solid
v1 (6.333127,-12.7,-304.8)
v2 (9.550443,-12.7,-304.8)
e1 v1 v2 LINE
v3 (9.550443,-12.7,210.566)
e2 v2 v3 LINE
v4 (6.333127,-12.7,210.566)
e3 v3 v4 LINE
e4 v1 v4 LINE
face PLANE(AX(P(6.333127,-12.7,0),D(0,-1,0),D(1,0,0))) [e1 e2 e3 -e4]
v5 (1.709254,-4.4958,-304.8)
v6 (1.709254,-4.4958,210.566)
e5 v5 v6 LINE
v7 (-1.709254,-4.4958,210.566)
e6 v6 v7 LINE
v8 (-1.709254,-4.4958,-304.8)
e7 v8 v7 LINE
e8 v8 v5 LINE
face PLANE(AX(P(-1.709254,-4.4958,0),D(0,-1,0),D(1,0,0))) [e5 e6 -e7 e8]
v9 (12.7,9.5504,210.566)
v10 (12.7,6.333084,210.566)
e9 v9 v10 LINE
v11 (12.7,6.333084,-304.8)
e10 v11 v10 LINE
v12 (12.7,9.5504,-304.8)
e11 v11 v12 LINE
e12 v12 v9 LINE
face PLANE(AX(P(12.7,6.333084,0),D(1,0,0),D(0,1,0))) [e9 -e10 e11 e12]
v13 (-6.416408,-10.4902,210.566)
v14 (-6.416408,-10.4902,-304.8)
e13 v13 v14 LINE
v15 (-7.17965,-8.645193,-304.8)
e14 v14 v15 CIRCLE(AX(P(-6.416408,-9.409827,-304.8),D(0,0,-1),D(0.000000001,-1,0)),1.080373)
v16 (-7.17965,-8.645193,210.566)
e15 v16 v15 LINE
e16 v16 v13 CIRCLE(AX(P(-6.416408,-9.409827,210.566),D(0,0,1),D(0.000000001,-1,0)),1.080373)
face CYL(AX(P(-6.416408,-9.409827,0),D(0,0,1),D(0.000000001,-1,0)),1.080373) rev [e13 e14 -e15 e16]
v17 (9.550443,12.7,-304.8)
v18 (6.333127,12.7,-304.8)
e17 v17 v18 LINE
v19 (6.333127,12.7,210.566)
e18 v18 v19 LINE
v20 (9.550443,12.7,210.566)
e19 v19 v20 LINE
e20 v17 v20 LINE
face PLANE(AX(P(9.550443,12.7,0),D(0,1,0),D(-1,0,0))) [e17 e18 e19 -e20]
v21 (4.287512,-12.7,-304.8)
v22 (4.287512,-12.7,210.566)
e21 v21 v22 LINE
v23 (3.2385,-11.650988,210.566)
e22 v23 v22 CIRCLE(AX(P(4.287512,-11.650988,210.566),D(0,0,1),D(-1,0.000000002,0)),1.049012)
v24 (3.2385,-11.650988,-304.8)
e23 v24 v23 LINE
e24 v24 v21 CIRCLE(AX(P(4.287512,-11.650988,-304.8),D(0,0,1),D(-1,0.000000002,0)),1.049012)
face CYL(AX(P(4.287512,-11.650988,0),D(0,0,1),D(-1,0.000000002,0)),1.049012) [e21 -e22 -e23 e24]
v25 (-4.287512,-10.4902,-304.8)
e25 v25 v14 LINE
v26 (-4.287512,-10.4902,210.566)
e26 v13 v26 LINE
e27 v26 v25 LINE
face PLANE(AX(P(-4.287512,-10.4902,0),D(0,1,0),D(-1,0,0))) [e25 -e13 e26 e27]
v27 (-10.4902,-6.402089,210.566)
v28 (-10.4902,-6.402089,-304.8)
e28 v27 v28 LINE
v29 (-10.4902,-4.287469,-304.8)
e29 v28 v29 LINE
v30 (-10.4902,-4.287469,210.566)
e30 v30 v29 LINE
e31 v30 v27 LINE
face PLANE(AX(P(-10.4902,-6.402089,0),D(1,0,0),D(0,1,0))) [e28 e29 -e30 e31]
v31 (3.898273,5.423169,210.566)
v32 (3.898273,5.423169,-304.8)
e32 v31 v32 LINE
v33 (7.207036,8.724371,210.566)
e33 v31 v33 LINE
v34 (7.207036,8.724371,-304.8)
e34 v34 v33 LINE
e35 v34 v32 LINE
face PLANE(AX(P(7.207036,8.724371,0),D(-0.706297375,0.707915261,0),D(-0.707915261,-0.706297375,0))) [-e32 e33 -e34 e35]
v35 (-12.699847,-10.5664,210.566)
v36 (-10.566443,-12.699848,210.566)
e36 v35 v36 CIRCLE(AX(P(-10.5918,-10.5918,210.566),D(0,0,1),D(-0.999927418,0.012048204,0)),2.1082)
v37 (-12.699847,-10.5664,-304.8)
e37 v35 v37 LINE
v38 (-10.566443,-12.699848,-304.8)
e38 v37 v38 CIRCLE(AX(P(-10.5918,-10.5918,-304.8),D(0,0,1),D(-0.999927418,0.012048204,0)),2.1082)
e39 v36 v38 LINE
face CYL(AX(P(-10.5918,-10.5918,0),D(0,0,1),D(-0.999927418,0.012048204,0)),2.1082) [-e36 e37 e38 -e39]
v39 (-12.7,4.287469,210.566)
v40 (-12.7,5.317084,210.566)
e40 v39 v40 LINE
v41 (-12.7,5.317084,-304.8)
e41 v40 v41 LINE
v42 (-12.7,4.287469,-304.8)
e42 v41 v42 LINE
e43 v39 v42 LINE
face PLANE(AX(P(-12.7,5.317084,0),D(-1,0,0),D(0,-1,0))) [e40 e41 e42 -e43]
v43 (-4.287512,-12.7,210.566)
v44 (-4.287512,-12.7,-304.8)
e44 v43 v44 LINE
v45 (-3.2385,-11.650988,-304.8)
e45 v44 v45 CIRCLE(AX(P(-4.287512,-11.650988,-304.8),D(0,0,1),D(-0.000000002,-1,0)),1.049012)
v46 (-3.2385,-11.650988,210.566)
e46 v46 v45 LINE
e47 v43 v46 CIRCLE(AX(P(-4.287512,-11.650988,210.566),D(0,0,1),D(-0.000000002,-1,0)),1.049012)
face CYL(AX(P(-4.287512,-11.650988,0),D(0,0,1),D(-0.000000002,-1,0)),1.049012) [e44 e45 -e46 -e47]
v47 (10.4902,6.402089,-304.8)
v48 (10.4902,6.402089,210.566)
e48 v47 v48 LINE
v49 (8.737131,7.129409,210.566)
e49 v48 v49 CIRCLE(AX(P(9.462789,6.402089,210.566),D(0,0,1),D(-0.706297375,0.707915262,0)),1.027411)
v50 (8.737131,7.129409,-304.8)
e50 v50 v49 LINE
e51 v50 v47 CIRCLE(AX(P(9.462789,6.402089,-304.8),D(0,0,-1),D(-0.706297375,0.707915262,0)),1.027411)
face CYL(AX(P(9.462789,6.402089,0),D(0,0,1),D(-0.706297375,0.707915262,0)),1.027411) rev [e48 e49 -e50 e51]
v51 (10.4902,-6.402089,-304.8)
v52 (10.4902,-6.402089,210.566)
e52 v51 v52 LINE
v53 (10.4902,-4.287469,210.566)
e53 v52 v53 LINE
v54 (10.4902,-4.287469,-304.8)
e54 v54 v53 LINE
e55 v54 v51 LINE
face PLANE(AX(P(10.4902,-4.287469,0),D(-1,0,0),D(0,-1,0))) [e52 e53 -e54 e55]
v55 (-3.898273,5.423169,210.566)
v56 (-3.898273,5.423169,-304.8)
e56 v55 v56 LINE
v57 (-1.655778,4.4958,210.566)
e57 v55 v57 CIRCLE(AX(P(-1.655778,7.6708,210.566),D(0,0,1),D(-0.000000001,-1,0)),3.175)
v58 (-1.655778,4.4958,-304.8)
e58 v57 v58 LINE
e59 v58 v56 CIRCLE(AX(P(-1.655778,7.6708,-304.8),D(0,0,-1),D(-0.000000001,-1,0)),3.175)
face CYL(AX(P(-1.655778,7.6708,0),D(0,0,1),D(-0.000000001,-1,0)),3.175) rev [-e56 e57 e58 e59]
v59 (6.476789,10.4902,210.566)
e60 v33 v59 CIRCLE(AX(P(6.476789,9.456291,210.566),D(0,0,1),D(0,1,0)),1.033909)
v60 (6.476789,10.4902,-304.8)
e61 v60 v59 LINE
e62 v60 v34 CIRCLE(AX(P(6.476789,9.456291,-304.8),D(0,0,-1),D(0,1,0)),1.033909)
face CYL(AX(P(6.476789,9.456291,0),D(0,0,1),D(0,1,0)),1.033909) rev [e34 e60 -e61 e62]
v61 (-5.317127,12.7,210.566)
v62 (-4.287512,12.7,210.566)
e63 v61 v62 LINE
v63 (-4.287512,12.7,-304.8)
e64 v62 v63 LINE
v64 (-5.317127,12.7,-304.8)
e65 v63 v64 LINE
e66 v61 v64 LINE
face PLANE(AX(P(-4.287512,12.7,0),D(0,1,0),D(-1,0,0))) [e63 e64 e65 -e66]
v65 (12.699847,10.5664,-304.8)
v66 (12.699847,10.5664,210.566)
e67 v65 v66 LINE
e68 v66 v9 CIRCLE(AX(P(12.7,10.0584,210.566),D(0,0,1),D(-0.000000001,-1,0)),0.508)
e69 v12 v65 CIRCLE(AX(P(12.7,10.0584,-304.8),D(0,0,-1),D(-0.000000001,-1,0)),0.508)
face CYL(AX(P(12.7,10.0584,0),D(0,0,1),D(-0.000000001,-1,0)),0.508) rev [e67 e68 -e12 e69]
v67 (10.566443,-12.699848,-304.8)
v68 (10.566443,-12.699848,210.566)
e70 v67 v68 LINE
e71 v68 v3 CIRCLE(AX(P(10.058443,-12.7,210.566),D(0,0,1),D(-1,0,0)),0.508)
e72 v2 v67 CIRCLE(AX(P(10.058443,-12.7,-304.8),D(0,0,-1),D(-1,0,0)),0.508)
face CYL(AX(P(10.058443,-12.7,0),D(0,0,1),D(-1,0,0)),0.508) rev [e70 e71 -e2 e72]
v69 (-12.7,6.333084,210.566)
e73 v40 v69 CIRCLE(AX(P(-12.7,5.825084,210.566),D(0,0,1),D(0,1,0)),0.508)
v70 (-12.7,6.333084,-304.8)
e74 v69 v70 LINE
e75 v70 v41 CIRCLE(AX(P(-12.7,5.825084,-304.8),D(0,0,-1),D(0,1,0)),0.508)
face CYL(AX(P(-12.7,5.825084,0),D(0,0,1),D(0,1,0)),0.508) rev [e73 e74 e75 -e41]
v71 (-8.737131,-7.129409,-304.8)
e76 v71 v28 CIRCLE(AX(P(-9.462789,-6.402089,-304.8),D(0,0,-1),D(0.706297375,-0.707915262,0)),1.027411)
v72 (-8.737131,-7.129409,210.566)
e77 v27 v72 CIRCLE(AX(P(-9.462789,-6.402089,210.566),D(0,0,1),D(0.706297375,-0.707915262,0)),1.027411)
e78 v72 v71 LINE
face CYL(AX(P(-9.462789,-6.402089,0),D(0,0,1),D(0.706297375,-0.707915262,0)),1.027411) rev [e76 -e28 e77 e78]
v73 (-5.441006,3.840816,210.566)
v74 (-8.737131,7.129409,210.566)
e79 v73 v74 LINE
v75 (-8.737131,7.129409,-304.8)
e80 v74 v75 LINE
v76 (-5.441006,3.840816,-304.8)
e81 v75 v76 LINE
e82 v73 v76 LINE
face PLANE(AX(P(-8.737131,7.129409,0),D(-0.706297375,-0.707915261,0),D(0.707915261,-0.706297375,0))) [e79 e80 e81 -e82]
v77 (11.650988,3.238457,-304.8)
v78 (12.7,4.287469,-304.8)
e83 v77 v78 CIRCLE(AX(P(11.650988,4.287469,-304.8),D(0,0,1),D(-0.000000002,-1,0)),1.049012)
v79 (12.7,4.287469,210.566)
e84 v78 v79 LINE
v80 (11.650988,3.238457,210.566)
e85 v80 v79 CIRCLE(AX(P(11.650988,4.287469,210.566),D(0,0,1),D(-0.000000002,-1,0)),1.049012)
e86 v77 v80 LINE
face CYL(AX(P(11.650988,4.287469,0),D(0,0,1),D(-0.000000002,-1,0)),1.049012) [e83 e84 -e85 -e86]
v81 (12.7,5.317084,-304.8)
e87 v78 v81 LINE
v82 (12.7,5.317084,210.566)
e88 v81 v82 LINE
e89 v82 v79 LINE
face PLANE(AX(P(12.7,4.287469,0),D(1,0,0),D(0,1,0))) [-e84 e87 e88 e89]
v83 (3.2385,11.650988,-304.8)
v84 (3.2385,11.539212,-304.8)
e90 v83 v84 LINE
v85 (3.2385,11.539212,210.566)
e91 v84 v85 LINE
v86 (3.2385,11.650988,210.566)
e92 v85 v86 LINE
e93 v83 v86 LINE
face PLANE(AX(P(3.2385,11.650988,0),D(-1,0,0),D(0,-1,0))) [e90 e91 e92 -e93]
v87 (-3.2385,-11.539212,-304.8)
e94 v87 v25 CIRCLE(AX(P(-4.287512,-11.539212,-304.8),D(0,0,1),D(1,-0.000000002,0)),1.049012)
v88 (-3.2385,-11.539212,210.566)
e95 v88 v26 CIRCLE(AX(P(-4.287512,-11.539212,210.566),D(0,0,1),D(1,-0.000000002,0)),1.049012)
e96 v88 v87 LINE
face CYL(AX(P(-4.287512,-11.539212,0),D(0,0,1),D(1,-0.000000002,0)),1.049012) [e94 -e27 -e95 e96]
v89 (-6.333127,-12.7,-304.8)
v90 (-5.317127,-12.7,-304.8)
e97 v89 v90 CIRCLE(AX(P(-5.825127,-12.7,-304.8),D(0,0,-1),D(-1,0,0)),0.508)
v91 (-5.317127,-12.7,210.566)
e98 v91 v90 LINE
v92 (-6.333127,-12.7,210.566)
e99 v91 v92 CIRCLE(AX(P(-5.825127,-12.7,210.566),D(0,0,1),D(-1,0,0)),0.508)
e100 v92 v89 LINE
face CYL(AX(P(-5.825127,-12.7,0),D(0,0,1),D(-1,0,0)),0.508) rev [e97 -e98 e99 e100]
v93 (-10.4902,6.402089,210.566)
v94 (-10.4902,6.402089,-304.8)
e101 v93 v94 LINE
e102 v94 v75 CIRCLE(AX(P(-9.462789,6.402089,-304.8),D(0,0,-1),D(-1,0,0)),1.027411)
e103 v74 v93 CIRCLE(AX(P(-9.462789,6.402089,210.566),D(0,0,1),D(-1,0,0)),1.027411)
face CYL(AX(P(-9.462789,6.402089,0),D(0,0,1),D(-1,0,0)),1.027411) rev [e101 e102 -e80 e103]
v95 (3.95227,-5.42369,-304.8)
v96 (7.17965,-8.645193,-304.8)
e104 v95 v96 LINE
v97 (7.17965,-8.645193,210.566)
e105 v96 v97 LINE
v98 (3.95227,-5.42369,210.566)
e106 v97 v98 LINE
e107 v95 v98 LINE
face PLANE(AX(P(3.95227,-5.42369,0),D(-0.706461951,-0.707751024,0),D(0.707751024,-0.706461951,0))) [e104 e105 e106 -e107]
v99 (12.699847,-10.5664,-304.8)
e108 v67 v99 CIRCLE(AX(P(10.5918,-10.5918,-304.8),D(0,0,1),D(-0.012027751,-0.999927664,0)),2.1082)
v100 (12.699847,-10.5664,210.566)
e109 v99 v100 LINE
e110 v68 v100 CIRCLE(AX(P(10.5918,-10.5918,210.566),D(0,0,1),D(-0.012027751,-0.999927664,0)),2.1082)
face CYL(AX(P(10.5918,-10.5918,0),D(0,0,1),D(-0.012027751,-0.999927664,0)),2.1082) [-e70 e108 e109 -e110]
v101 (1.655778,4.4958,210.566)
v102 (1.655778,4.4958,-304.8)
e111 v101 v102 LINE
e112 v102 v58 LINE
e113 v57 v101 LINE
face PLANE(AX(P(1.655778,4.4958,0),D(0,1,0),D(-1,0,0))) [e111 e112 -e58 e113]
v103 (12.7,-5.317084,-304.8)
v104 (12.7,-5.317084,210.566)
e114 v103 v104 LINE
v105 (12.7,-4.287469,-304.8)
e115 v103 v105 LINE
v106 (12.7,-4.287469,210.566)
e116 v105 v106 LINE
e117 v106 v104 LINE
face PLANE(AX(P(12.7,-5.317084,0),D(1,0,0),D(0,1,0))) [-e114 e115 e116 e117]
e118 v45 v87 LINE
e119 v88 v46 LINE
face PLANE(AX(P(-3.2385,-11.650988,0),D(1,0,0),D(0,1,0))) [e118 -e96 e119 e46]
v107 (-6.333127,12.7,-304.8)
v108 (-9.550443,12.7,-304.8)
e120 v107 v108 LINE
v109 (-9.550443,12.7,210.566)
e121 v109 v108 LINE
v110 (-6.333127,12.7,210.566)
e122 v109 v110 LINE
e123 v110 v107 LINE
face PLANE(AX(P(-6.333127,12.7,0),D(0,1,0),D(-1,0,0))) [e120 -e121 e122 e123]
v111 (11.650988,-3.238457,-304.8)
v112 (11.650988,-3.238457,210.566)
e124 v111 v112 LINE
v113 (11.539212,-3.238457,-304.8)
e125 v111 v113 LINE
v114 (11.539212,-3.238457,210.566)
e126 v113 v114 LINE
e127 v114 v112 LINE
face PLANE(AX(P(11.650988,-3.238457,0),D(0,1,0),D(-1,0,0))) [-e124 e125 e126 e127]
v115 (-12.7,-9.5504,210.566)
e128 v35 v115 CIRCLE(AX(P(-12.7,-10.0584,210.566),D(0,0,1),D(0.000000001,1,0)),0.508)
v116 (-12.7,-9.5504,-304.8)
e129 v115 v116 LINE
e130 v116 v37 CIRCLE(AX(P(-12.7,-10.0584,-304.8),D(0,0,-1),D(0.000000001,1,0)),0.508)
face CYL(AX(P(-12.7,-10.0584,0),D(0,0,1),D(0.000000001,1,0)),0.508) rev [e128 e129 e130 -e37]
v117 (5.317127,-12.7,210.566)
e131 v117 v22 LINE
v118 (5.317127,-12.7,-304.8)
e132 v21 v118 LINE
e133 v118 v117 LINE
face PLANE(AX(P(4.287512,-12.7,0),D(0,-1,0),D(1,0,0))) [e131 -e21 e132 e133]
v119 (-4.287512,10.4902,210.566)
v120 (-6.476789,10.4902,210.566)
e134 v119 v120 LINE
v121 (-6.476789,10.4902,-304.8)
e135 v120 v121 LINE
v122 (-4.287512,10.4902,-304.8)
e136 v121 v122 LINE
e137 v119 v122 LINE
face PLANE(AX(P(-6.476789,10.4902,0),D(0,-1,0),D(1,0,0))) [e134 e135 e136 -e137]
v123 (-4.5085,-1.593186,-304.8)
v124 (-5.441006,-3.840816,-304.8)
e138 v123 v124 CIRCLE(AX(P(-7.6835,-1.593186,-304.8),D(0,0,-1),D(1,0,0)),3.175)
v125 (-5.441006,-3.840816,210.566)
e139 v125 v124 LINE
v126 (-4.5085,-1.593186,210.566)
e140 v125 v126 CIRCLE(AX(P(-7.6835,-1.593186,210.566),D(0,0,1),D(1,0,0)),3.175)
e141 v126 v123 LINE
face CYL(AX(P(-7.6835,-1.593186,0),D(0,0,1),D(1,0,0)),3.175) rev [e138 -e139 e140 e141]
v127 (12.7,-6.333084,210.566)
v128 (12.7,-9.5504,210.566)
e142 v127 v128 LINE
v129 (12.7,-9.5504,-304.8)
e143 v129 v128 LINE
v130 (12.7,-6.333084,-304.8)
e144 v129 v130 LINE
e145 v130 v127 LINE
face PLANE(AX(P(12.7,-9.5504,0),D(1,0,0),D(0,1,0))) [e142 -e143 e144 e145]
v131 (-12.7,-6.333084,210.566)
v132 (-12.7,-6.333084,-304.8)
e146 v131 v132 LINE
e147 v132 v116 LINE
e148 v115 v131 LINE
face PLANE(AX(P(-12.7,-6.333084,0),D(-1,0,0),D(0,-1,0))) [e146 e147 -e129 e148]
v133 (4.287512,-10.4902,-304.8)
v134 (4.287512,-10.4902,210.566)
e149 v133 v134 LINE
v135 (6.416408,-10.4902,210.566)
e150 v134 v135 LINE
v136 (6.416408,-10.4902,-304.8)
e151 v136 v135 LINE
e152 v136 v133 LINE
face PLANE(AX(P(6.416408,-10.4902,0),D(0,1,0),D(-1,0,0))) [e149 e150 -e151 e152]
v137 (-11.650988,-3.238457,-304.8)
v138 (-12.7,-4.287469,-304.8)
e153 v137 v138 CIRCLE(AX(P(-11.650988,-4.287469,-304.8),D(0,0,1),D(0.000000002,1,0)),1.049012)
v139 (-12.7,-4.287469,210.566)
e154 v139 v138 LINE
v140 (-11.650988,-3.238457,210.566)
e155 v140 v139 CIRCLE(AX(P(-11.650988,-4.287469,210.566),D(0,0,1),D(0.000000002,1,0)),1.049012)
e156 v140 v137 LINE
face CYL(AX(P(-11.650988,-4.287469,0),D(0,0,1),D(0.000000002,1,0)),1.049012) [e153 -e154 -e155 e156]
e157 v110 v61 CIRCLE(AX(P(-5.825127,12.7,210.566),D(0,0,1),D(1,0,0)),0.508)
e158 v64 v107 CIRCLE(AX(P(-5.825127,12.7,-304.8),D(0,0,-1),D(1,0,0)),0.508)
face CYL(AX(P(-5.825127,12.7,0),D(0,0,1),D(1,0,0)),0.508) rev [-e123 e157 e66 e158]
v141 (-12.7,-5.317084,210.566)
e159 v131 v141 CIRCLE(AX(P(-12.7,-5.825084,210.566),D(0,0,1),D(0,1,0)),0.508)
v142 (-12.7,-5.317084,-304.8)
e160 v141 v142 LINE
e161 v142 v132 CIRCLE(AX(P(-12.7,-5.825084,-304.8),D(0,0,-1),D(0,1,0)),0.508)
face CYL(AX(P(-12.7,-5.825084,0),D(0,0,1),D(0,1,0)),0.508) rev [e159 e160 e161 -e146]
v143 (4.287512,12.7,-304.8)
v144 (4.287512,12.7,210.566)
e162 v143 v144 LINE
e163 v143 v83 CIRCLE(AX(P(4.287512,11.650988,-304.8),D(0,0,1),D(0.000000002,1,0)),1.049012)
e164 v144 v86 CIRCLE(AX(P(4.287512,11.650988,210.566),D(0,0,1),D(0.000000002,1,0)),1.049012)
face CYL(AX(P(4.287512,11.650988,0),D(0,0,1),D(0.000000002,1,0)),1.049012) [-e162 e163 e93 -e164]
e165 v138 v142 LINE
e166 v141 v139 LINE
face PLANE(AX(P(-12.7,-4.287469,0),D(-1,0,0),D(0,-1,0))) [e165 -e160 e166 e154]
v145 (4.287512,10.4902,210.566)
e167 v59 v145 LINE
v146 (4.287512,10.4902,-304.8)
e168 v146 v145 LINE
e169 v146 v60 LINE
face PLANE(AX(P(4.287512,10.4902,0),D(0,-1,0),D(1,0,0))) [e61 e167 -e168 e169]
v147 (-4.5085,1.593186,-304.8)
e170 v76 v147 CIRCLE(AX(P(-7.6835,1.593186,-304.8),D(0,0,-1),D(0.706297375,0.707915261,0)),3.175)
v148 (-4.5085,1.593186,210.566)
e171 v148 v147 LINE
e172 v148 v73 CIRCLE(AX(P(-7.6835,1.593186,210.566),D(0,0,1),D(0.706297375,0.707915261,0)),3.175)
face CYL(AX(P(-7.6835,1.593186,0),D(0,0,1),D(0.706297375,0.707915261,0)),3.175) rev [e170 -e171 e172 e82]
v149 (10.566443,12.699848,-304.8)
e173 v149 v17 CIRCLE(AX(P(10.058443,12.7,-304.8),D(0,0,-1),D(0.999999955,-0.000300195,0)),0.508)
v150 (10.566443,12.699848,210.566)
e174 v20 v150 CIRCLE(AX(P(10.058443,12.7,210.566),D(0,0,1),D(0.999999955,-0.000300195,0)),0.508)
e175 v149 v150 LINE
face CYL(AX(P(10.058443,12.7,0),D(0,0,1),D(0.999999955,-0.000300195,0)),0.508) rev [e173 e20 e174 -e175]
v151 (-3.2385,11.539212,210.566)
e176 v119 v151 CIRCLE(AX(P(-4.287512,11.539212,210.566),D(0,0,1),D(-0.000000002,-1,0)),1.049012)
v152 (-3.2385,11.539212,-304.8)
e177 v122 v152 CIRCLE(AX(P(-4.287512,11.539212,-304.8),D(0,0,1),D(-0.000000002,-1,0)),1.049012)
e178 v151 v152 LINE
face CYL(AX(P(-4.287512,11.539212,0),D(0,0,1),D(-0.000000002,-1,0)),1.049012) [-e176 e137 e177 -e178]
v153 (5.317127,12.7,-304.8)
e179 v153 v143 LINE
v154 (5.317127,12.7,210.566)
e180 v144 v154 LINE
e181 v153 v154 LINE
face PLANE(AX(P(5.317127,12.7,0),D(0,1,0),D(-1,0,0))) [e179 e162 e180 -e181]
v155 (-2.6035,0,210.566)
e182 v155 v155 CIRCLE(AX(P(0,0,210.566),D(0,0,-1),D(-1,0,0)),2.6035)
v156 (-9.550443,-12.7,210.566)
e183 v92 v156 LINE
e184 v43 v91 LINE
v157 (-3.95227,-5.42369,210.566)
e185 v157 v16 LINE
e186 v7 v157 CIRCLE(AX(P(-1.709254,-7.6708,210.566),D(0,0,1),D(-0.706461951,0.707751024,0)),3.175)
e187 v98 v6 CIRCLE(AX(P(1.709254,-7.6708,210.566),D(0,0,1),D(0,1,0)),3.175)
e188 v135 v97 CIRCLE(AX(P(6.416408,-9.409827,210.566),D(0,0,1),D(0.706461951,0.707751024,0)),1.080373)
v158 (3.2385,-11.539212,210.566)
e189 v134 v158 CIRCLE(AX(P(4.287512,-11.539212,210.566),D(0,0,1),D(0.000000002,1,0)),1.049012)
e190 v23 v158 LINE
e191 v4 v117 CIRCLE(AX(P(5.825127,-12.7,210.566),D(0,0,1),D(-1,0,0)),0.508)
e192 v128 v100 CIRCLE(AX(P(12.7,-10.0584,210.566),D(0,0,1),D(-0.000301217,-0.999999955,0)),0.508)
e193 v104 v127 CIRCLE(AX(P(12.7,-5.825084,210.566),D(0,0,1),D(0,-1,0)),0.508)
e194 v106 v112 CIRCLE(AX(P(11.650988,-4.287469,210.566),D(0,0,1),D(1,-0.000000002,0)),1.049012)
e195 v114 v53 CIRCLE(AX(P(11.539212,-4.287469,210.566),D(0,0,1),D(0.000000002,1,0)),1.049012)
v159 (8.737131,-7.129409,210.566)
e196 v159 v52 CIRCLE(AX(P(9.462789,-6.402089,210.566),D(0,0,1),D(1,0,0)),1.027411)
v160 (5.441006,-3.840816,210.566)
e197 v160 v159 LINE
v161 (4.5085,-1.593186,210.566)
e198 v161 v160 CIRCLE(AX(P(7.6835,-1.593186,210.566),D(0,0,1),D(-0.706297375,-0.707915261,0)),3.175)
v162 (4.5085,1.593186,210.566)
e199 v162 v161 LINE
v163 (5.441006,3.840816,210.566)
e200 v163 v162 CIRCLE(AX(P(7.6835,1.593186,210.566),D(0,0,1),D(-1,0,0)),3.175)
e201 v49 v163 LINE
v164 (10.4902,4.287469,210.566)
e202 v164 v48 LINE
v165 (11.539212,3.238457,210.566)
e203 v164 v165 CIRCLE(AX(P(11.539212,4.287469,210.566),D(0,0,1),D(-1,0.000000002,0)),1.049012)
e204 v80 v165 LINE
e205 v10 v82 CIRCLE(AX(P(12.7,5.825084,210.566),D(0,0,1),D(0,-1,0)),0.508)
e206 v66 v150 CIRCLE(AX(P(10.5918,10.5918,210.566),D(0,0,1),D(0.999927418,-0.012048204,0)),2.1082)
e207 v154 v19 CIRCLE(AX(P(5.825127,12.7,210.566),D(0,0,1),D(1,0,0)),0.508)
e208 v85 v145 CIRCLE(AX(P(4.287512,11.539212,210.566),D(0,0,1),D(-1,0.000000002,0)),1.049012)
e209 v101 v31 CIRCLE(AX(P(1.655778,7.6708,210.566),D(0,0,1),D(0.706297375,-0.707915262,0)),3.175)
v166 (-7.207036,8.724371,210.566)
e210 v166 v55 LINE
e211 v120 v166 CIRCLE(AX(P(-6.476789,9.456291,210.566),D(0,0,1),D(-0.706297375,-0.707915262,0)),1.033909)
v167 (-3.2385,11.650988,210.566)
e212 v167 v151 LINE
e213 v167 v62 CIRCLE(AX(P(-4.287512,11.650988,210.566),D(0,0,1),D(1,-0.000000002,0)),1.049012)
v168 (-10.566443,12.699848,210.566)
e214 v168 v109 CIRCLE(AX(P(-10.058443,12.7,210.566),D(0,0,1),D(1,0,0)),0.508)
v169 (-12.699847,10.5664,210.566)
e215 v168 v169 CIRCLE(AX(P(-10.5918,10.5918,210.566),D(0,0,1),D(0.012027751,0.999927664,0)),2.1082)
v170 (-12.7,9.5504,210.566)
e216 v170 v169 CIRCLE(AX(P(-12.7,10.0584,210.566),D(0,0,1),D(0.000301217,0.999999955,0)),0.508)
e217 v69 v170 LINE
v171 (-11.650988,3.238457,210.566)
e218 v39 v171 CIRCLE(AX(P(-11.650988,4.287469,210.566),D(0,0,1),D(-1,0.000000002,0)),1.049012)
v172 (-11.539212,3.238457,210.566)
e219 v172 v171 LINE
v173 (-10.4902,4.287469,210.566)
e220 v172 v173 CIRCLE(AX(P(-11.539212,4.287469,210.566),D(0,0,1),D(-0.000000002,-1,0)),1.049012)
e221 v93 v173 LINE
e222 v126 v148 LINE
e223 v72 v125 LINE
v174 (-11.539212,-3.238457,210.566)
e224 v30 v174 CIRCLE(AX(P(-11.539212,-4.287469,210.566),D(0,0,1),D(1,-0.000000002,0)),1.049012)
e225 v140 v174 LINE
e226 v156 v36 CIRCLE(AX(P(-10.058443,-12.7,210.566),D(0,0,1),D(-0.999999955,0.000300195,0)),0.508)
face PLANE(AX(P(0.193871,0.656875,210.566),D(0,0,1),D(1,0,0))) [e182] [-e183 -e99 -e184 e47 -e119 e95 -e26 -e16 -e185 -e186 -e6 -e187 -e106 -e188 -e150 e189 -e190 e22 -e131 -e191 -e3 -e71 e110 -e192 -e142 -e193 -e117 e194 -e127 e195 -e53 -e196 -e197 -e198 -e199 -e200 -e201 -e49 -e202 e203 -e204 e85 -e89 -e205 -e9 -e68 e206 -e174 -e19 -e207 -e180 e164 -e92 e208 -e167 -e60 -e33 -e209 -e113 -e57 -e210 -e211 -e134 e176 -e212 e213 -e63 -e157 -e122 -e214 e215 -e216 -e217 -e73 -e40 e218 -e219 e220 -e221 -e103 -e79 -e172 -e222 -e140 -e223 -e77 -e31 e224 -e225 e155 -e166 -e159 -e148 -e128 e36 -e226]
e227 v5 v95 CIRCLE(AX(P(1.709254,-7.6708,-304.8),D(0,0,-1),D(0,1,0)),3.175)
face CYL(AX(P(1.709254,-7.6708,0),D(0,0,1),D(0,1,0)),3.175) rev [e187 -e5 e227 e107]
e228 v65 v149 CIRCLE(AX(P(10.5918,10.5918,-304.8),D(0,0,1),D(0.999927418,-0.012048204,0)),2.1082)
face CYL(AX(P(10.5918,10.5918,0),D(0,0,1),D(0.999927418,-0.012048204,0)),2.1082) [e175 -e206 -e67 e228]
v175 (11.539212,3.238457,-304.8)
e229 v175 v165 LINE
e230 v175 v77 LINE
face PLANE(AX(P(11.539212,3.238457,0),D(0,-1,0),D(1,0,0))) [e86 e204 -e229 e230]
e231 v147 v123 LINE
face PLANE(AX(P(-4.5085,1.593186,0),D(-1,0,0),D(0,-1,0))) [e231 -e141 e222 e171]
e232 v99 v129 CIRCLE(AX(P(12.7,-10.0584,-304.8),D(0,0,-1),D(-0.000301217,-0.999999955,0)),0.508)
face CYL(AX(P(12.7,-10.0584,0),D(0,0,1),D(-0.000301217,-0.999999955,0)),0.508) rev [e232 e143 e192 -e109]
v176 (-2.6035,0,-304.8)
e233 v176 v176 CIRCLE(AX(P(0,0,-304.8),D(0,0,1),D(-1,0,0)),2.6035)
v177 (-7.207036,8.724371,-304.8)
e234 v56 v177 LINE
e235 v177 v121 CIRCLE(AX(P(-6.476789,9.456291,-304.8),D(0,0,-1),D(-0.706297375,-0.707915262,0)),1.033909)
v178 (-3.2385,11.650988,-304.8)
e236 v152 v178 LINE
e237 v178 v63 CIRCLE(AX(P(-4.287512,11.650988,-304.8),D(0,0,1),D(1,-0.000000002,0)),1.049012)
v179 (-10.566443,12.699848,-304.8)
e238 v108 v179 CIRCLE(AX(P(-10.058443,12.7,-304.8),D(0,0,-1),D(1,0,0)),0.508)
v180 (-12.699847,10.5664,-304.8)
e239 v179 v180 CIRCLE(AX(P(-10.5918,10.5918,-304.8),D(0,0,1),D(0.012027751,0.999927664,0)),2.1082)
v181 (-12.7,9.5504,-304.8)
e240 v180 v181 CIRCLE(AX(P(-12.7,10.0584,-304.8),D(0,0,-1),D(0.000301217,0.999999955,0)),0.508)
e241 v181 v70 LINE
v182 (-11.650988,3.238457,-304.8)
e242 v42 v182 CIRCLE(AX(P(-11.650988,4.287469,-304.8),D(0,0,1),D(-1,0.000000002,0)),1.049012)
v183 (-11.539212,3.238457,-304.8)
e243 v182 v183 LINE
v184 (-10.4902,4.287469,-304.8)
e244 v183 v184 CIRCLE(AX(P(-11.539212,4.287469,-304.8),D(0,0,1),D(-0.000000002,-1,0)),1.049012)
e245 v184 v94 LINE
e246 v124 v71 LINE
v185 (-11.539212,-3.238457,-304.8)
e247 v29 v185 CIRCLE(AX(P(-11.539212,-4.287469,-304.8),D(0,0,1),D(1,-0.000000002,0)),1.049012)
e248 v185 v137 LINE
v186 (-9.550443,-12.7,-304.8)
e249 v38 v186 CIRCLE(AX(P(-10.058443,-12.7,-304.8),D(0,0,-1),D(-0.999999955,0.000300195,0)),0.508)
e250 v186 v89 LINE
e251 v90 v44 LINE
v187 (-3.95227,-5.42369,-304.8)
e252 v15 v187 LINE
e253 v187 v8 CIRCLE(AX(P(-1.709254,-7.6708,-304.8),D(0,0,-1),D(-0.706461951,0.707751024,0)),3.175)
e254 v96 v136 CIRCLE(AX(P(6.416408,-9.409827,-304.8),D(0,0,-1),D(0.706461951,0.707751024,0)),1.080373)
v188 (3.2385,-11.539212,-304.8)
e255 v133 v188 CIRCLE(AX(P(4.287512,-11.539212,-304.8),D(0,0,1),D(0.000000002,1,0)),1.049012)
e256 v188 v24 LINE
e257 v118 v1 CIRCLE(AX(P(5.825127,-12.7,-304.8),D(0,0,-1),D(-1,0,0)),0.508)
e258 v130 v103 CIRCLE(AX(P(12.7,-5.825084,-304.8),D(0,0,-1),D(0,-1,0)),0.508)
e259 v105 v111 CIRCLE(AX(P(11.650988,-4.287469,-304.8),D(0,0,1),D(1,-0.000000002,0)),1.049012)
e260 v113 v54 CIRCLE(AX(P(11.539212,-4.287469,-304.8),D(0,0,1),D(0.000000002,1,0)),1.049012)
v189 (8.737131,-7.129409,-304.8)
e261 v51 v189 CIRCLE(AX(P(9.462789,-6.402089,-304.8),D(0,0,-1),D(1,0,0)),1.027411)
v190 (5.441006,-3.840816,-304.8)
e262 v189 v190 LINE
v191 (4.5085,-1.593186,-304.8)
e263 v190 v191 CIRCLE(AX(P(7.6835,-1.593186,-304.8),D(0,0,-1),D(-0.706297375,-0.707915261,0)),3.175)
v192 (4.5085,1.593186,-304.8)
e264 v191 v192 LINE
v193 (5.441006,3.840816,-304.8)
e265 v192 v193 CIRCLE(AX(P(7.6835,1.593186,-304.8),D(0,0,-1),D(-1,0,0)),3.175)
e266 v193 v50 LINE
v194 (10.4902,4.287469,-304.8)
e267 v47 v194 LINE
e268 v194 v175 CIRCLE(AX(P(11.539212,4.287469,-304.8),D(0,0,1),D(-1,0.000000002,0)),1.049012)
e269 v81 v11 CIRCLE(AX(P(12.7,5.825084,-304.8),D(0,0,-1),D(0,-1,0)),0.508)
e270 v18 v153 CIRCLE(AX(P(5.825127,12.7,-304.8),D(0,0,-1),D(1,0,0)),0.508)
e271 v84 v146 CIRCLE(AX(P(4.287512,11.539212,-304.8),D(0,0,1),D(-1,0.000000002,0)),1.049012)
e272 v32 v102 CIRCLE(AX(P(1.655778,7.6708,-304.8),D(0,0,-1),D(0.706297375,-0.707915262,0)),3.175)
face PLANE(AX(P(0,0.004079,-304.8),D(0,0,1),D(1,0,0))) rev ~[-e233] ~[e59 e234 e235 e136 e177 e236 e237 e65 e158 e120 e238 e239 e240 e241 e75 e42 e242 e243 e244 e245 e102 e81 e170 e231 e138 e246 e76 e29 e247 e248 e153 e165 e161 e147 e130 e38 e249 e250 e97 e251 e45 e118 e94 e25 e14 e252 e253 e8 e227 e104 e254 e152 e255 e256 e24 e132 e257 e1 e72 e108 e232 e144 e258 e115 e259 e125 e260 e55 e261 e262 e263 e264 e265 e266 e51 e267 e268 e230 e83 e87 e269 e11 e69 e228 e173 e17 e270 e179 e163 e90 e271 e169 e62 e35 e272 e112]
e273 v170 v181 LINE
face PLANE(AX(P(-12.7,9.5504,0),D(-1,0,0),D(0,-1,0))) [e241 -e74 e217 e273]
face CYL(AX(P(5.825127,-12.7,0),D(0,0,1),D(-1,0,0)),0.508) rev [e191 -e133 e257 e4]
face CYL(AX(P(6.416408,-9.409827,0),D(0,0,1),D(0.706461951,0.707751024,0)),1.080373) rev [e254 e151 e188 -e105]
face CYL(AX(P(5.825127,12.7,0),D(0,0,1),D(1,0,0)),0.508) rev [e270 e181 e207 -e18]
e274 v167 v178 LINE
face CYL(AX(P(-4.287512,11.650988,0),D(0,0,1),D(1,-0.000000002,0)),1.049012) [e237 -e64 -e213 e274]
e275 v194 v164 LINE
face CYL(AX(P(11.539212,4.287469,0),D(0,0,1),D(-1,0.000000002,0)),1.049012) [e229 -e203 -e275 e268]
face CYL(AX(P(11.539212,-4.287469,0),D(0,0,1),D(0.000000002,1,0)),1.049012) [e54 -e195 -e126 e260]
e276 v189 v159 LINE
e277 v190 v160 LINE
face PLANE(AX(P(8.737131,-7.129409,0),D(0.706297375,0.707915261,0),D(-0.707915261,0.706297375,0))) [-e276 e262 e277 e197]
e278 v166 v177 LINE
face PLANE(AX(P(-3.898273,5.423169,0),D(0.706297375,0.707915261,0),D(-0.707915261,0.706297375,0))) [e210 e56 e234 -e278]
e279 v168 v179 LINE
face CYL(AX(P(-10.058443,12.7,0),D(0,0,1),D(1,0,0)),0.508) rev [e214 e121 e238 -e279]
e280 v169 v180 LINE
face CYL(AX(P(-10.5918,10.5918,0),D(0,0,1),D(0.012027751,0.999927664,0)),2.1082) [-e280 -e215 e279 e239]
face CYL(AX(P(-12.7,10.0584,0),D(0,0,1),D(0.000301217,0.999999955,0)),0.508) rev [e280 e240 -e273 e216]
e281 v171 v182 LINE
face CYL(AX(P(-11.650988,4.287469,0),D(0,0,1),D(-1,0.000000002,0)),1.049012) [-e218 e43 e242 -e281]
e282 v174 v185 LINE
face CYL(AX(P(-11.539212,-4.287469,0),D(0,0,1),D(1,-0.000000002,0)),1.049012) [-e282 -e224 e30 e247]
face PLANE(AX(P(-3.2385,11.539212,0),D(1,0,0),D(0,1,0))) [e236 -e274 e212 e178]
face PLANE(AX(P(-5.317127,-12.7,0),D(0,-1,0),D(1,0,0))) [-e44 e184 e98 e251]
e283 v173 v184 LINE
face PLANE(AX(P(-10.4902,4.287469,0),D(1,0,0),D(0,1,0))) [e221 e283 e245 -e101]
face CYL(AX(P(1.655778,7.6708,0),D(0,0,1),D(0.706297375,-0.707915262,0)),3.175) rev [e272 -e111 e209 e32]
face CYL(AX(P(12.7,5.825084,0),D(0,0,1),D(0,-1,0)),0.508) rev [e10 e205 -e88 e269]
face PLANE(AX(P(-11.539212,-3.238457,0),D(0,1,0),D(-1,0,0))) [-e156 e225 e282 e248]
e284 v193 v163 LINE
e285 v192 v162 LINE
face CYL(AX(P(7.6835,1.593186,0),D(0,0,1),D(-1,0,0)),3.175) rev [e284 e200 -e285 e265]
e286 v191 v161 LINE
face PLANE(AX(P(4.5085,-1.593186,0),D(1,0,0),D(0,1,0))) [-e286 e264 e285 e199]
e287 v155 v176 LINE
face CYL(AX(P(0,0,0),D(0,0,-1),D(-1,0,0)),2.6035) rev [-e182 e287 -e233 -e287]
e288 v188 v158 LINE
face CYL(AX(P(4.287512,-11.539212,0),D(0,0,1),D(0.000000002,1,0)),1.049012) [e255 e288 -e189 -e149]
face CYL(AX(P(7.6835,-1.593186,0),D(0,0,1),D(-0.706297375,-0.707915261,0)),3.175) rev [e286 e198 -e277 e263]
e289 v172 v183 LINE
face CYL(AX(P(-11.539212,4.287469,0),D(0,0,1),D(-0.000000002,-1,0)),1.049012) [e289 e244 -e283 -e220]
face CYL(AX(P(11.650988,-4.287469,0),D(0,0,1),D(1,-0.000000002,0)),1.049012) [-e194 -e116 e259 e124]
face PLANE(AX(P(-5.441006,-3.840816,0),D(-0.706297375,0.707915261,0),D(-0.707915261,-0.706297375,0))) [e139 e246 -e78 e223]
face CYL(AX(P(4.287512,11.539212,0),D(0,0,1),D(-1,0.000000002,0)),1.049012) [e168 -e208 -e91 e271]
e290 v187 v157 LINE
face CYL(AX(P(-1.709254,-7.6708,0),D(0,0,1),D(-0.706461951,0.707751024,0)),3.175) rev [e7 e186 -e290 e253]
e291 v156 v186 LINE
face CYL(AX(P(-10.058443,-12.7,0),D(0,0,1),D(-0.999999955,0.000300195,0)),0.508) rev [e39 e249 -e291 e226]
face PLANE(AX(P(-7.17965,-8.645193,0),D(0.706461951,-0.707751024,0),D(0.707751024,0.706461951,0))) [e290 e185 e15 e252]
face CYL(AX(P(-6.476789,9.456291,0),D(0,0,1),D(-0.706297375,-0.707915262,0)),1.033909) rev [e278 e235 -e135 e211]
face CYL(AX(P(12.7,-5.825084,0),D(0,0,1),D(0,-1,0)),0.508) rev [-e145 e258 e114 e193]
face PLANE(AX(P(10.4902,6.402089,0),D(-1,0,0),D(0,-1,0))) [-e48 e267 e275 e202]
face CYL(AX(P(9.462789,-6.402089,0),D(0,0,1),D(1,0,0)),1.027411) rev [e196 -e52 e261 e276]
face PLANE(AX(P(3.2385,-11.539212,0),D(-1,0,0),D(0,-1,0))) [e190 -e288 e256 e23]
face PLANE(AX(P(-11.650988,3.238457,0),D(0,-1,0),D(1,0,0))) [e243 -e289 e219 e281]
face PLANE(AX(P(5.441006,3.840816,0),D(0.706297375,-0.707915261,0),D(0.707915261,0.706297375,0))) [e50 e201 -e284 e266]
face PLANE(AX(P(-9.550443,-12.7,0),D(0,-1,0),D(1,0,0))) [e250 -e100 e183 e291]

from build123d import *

# Parameters (mm, degrees)
SKETCH1_R           = 2.6035
BOSS_EXTRUDE1_DEPTH = 304.8
SKETCH2_W           = 31.141643918
SKETCH2_H           = 31.372180197
CUT_EXTRUDE1_DEPTH  = 94.234


with BuildPart() as part:
    # Sketch1 → Boss-Extrude1 (new, symmetric)
    with BuildSketch(Plane.XY):
        with BuildLine():
            Line((-7.179650497, -8.645192506), (-3.952270251, -5.423690499))
            ThreePointArc((-3.952270251, -5.423690499), (-2.922936451, -4.736929036), (-1.709253557, -4.4958))
            Line((-1.709253557, -4.4958), (1.709253557, -4.4958))
            ThreePointArc((1.709253557, -4.4958), (2.922936451, -4.736929036), (3.952270251, -5.423690499))
            Line((3.952270251, -5.423690499), (7.179650497, -8.645192506))
            ThreePointArc((7.179650497, -8.645192506), (7.41473083, -9.822813117), (6.416408329, -10.4902))
            Line((6.416408329, -10.4902), (4.287512407, -10.4902))
            ThreePointArc((4.287512407, -10.4902), (3.54574862, -10.79744862), (3.2385, -11.539212407))
            Line((3.2385, -11.539212407), (3.2385, -11.650987593))
            ThreePointArc((3.2385, -11.650987593), (3.54574862, -12.39275138), (4.287512407, -12.7))
            Line((4.287512407, -12.7), (5.317126718, -12.7))
            ThreePointArc((5.317126718, -12.7), (5.825126718, -12.192), (6.333126718, -12.7))
            Line((6.333126718, -12.7), (9.550443118, -12.7))
            ThreePointArc((9.550443118, -12.7), (10.058366869, -12.192000006), (10.566443095, -12.699847501))
            ThreePointArc((10.566443095, -12.699847501), (12.082537762, -12.08250727), (12.699846982, -10.566399977))
            ThreePointArc((12.699846982, -10.566399977), (12.192000006, -10.058323491), (12.7, -9.5504))
            Line((12.7, -9.5504), (12.7, -6.3330836))
            ThreePointArc((12.7, -6.3330836), (12.192, -5.8250836), (12.7, -5.3170836))
            Line((12.7, -5.3170836), (12.7, -4.287469289))
            ThreePointArc((12.7, -4.287469289), (12.39275138, -3.545705502), (11.650987593, -3.238456882))
            Line((11.650987593, -3.238456882), (11.539212407, -3.238456882))
            ThreePointArc((11.539212407, -3.238456882), (10.79744862, -3.545705502), (10.4902, -4.287469289))
            Line((10.4902, -4.287469289), (10.4902, -6.402089023))
            ThreePointArc((10.4902, -6.402089023), (9.856505071, -7.351067942), (8.737131347, -7.129408934))
            Line((8.737131347, -7.129408934), (5.441005833, -3.840816462))
            ThreePointArc((5.441005833, -3.840816462), (4.750877967, -2.809883091), (4.5085, -1.593185507))
            Line((4.5085, -1.593185507), (4.5085, 1.593185507))
            ThreePointArc((4.5085, 1.593185507), (4.750877967, 2.809883091), (5.441005833, 3.840816462))
            Line((5.441005833, 3.840816462), (8.737131347, 7.129408934))
            ThreePointArc((8.737131347, 7.129408934), (9.856505071, 7.351067942), (10.4902, 6.402089023))
            Line((10.4902, 6.402089023), (10.4902, 4.287469289))
            ThreePointArc((10.4902, 4.287469289), (10.79744862, 3.545705502), (11.539212407, 3.238456882))
            Line((11.539212407, 3.238456882), (11.650987593, 3.238456882))
            ThreePointArc((11.650987593, 3.238456882), (12.39275138, 3.545705502), (12.7, 4.287469289))
            Line((12.7, 4.287469289), (12.7, 5.3170836))
            ThreePointArc((12.7, 5.3170836), (12.192, 5.8250836), (12.7, 6.3330836))
            Line((12.7, 6.3330836), (12.7, 9.5504))
            ThreePointArc((12.7, 9.5504), (12.192000006, 10.058323491), (12.699846982, 10.566399977))
            ThreePointArc((12.699846982, 10.566399977), (12.082537762, 12.08250727), (10.566443095, 12.699847501))
            ThreePointArc((10.566443095, 12.699847501), (10.058366869, 12.192000006), (9.550443118, 12.7))
            Line((9.550443118, 12.7), (6.333126718, 12.7))
            ThreePointArc((6.333126718, 12.7), (5.825126718, 12.192), (5.317126718, 12.7))
            Line((5.317126718, 12.7), (4.287512407, 12.7))
            ThreePointArc((4.287512407, 12.7), (3.54574862, 12.39275138), (3.2385, 11.650987593))
            Line((3.2385, 11.650987593), (3.2385, 11.539212407))
            ThreePointArc((3.2385, 11.539212407), (3.54574862, 10.79744862), (4.287512407, 10.4902))
            Line((4.287512407, 10.4902), (6.476788598, 10.4902))
            ThreePointArc((6.476788598, 10.4902), (7.432222385, 9.85140422), (7.207036008, 8.724370562))
            Line((7.207036008, 8.724370562), (3.898272566, 5.423169045))
            ThreePointArc((3.898272566, 5.423169045), (2.869120213, 4.736787962), (1.655778399, 4.4958))
            Line((1.655778399, 4.4958), (-1.655778399, 4.4958))
            ThreePointArc((-1.655778399, 4.4958), (-2.869120213, 4.736787962), (-3.898272566, 5.423169045))
            Line((-3.898272566, 5.423169045), (-7.207036008, 8.724370562))
            ThreePointArc((-7.207036008, 8.724370562), (-7.432222385, 9.85140422), (-6.476788598, 10.4902))
            Line((-6.476788598, 10.4902), (-4.287512407, 10.4902))
            ThreePointArc((-4.287512407, 10.4902), (-3.54574862, 10.79744862), (-3.2385, 11.539212407))
            Line((-3.2385, 11.539212407), (-3.2385, 11.650987593))
            ThreePointArc((-3.2385, 11.650987593), (-3.54574862, 12.39275138), (-4.287512407, 12.7))
            Line((-4.287512407, 12.7), (-5.317126718, 12.7))
            ThreePointArc((-5.317126718, 12.7), (-5.825126718, 12.192), (-6.333126718, 12.7))
            Line((-6.333126718, 12.7), (-9.550443118, 12.7))
            ThreePointArc((-9.550443118, 12.7), (-10.058366869, 12.192000006), (-10.566443095, 12.699847501))
            ThreePointArc((-10.566443095, 12.699847501), (-12.082537762, 12.08250727), (-12.699846982, 10.566399977))
            ThreePointArc((-12.699846982, 10.566399977), (-12.192000006, 10.058323491), (-12.7, 9.5504))
            Line((-12.7, 9.5504), (-12.7, 6.3330836))
            ThreePointArc((-12.7, 6.3330836), (-12.192, 5.8250836), (-12.7, 5.3170836))
            Line((-12.7, 5.3170836), (-12.7, 4.287469289))
            ThreePointArc((-12.7, 4.287469289), (-12.39275138, 3.545705502), (-11.650987593, 3.238456882))
            Line((-11.650987593, 3.238456882), (-11.539212407, 3.238456882))
            ThreePointArc((-11.539212407, 3.238456882), (-10.79744862, 3.545705502), (-10.4902, 4.287469289))
            Line((-10.4902, 4.287469289), (-10.4902, 6.402089023))
            ThreePointArc((-10.4902, 6.402089023), (-9.856505071, 7.351067942), (-8.737131347, 7.129408934))
            Line((-8.737131347, 7.129408934), (-5.441005833, 3.840816462))
            ThreePointArc((-5.441005833, 3.840816462), (-4.750877967, 2.809883091), (-4.5085, 1.593185507))
            Line((-4.5085, 1.593185507), (-4.5085, -1.593185507))
            ThreePointArc((-4.5085, -1.593185507), (-4.750877967, -2.809883091), (-5.441005833, -3.840816462))
            Line((-5.441005833, -3.840816462), (-8.737131347, -7.129408934))
            ThreePointArc((-8.737131347, -7.129408934), (-9.856505071, -7.351067942), (-10.4902, -6.402089023))
            Line((-10.4902, -6.402089023), (-10.4902, -4.287469289))
            ThreePointArc((-10.4902, -4.287469289), (-10.79744862, -3.545705502), (-11.539212407, -3.238456882))
            Line((-11.539212407, -3.238456882), (-11.650987593, -3.238456882))
            ThreePointArc((-11.650987593, -3.238456882), (-12.39275138, -3.545705502), (-12.7, -4.287469289))
            Line((-12.7, -4.287469289), (-12.7, -5.3170836))
            ThreePointArc((-12.7, -5.3170836), (-12.192, -5.8250836), (-12.7, -6.3330836))
            Line((-12.7, -6.3330836), (-12.7, -9.5504))
            ThreePointArc((-12.7, -9.5504), (-12.192000006, -10.058323491), (-12.699846982, -10.566399977))
            ThreePointArc((-12.699846982, -10.566399977), (-12.082537762, -12.08250727), (-10.566443095, -12.699847501))
            ThreePointArc((-10.566443095, -12.699847501), (-10.058366869, -12.192000006), (-9.550443118, -12.7))
            Line((-9.550443118, -12.7), (-6.333126718, -12.7))
            ThreePointArc((-6.333126718, -12.7), (-5.825126718, -12.192), (-5.317126718, -12.7))
            Line((-5.317126718, -12.7), (-4.287512407, -12.7))
            ThreePointArc((-4.287512407, -12.7), (-3.54574862, -12.39275138), (-3.2385, -11.650987593))
            Line((-3.2385, -11.650987593), (-3.2385, -11.539212407))
            ThreePointArc((-3.2385, -11.539212407), (-3.54574862, -10.79744862), (-4.287512407, -10.4902))
            Line((-4.287512407, -10.4902), (-6.416408329, -10.4902))
            ThreePointArc((-6.416408329, -10.4902), (-7.41473083, -9.822813117), (-7.179650497, -8.645192506))
        make_face()
        with Locations(Location((0, 0, 0), (0, 0, 180))):
            Circle(SKETCH1_R, mode=Mode.SUBTRACT)
    extrude(amount=BOSS_EXTRUDE1_DEPTH, both=True)

    # Sketch2 → Cut-Extrude1 (cut)
    with BuildSketch(Plane.XY.offset(304.8)):
        with Locations((0.193871266, 0.656875365)):
            Rectangle(SKETCH2_W, SKETCH2_H)
    extrude(amount=-CUT_EXTRUDE1_DEPTH, mode=Mode.SUBTRACT)


solid = part.part
